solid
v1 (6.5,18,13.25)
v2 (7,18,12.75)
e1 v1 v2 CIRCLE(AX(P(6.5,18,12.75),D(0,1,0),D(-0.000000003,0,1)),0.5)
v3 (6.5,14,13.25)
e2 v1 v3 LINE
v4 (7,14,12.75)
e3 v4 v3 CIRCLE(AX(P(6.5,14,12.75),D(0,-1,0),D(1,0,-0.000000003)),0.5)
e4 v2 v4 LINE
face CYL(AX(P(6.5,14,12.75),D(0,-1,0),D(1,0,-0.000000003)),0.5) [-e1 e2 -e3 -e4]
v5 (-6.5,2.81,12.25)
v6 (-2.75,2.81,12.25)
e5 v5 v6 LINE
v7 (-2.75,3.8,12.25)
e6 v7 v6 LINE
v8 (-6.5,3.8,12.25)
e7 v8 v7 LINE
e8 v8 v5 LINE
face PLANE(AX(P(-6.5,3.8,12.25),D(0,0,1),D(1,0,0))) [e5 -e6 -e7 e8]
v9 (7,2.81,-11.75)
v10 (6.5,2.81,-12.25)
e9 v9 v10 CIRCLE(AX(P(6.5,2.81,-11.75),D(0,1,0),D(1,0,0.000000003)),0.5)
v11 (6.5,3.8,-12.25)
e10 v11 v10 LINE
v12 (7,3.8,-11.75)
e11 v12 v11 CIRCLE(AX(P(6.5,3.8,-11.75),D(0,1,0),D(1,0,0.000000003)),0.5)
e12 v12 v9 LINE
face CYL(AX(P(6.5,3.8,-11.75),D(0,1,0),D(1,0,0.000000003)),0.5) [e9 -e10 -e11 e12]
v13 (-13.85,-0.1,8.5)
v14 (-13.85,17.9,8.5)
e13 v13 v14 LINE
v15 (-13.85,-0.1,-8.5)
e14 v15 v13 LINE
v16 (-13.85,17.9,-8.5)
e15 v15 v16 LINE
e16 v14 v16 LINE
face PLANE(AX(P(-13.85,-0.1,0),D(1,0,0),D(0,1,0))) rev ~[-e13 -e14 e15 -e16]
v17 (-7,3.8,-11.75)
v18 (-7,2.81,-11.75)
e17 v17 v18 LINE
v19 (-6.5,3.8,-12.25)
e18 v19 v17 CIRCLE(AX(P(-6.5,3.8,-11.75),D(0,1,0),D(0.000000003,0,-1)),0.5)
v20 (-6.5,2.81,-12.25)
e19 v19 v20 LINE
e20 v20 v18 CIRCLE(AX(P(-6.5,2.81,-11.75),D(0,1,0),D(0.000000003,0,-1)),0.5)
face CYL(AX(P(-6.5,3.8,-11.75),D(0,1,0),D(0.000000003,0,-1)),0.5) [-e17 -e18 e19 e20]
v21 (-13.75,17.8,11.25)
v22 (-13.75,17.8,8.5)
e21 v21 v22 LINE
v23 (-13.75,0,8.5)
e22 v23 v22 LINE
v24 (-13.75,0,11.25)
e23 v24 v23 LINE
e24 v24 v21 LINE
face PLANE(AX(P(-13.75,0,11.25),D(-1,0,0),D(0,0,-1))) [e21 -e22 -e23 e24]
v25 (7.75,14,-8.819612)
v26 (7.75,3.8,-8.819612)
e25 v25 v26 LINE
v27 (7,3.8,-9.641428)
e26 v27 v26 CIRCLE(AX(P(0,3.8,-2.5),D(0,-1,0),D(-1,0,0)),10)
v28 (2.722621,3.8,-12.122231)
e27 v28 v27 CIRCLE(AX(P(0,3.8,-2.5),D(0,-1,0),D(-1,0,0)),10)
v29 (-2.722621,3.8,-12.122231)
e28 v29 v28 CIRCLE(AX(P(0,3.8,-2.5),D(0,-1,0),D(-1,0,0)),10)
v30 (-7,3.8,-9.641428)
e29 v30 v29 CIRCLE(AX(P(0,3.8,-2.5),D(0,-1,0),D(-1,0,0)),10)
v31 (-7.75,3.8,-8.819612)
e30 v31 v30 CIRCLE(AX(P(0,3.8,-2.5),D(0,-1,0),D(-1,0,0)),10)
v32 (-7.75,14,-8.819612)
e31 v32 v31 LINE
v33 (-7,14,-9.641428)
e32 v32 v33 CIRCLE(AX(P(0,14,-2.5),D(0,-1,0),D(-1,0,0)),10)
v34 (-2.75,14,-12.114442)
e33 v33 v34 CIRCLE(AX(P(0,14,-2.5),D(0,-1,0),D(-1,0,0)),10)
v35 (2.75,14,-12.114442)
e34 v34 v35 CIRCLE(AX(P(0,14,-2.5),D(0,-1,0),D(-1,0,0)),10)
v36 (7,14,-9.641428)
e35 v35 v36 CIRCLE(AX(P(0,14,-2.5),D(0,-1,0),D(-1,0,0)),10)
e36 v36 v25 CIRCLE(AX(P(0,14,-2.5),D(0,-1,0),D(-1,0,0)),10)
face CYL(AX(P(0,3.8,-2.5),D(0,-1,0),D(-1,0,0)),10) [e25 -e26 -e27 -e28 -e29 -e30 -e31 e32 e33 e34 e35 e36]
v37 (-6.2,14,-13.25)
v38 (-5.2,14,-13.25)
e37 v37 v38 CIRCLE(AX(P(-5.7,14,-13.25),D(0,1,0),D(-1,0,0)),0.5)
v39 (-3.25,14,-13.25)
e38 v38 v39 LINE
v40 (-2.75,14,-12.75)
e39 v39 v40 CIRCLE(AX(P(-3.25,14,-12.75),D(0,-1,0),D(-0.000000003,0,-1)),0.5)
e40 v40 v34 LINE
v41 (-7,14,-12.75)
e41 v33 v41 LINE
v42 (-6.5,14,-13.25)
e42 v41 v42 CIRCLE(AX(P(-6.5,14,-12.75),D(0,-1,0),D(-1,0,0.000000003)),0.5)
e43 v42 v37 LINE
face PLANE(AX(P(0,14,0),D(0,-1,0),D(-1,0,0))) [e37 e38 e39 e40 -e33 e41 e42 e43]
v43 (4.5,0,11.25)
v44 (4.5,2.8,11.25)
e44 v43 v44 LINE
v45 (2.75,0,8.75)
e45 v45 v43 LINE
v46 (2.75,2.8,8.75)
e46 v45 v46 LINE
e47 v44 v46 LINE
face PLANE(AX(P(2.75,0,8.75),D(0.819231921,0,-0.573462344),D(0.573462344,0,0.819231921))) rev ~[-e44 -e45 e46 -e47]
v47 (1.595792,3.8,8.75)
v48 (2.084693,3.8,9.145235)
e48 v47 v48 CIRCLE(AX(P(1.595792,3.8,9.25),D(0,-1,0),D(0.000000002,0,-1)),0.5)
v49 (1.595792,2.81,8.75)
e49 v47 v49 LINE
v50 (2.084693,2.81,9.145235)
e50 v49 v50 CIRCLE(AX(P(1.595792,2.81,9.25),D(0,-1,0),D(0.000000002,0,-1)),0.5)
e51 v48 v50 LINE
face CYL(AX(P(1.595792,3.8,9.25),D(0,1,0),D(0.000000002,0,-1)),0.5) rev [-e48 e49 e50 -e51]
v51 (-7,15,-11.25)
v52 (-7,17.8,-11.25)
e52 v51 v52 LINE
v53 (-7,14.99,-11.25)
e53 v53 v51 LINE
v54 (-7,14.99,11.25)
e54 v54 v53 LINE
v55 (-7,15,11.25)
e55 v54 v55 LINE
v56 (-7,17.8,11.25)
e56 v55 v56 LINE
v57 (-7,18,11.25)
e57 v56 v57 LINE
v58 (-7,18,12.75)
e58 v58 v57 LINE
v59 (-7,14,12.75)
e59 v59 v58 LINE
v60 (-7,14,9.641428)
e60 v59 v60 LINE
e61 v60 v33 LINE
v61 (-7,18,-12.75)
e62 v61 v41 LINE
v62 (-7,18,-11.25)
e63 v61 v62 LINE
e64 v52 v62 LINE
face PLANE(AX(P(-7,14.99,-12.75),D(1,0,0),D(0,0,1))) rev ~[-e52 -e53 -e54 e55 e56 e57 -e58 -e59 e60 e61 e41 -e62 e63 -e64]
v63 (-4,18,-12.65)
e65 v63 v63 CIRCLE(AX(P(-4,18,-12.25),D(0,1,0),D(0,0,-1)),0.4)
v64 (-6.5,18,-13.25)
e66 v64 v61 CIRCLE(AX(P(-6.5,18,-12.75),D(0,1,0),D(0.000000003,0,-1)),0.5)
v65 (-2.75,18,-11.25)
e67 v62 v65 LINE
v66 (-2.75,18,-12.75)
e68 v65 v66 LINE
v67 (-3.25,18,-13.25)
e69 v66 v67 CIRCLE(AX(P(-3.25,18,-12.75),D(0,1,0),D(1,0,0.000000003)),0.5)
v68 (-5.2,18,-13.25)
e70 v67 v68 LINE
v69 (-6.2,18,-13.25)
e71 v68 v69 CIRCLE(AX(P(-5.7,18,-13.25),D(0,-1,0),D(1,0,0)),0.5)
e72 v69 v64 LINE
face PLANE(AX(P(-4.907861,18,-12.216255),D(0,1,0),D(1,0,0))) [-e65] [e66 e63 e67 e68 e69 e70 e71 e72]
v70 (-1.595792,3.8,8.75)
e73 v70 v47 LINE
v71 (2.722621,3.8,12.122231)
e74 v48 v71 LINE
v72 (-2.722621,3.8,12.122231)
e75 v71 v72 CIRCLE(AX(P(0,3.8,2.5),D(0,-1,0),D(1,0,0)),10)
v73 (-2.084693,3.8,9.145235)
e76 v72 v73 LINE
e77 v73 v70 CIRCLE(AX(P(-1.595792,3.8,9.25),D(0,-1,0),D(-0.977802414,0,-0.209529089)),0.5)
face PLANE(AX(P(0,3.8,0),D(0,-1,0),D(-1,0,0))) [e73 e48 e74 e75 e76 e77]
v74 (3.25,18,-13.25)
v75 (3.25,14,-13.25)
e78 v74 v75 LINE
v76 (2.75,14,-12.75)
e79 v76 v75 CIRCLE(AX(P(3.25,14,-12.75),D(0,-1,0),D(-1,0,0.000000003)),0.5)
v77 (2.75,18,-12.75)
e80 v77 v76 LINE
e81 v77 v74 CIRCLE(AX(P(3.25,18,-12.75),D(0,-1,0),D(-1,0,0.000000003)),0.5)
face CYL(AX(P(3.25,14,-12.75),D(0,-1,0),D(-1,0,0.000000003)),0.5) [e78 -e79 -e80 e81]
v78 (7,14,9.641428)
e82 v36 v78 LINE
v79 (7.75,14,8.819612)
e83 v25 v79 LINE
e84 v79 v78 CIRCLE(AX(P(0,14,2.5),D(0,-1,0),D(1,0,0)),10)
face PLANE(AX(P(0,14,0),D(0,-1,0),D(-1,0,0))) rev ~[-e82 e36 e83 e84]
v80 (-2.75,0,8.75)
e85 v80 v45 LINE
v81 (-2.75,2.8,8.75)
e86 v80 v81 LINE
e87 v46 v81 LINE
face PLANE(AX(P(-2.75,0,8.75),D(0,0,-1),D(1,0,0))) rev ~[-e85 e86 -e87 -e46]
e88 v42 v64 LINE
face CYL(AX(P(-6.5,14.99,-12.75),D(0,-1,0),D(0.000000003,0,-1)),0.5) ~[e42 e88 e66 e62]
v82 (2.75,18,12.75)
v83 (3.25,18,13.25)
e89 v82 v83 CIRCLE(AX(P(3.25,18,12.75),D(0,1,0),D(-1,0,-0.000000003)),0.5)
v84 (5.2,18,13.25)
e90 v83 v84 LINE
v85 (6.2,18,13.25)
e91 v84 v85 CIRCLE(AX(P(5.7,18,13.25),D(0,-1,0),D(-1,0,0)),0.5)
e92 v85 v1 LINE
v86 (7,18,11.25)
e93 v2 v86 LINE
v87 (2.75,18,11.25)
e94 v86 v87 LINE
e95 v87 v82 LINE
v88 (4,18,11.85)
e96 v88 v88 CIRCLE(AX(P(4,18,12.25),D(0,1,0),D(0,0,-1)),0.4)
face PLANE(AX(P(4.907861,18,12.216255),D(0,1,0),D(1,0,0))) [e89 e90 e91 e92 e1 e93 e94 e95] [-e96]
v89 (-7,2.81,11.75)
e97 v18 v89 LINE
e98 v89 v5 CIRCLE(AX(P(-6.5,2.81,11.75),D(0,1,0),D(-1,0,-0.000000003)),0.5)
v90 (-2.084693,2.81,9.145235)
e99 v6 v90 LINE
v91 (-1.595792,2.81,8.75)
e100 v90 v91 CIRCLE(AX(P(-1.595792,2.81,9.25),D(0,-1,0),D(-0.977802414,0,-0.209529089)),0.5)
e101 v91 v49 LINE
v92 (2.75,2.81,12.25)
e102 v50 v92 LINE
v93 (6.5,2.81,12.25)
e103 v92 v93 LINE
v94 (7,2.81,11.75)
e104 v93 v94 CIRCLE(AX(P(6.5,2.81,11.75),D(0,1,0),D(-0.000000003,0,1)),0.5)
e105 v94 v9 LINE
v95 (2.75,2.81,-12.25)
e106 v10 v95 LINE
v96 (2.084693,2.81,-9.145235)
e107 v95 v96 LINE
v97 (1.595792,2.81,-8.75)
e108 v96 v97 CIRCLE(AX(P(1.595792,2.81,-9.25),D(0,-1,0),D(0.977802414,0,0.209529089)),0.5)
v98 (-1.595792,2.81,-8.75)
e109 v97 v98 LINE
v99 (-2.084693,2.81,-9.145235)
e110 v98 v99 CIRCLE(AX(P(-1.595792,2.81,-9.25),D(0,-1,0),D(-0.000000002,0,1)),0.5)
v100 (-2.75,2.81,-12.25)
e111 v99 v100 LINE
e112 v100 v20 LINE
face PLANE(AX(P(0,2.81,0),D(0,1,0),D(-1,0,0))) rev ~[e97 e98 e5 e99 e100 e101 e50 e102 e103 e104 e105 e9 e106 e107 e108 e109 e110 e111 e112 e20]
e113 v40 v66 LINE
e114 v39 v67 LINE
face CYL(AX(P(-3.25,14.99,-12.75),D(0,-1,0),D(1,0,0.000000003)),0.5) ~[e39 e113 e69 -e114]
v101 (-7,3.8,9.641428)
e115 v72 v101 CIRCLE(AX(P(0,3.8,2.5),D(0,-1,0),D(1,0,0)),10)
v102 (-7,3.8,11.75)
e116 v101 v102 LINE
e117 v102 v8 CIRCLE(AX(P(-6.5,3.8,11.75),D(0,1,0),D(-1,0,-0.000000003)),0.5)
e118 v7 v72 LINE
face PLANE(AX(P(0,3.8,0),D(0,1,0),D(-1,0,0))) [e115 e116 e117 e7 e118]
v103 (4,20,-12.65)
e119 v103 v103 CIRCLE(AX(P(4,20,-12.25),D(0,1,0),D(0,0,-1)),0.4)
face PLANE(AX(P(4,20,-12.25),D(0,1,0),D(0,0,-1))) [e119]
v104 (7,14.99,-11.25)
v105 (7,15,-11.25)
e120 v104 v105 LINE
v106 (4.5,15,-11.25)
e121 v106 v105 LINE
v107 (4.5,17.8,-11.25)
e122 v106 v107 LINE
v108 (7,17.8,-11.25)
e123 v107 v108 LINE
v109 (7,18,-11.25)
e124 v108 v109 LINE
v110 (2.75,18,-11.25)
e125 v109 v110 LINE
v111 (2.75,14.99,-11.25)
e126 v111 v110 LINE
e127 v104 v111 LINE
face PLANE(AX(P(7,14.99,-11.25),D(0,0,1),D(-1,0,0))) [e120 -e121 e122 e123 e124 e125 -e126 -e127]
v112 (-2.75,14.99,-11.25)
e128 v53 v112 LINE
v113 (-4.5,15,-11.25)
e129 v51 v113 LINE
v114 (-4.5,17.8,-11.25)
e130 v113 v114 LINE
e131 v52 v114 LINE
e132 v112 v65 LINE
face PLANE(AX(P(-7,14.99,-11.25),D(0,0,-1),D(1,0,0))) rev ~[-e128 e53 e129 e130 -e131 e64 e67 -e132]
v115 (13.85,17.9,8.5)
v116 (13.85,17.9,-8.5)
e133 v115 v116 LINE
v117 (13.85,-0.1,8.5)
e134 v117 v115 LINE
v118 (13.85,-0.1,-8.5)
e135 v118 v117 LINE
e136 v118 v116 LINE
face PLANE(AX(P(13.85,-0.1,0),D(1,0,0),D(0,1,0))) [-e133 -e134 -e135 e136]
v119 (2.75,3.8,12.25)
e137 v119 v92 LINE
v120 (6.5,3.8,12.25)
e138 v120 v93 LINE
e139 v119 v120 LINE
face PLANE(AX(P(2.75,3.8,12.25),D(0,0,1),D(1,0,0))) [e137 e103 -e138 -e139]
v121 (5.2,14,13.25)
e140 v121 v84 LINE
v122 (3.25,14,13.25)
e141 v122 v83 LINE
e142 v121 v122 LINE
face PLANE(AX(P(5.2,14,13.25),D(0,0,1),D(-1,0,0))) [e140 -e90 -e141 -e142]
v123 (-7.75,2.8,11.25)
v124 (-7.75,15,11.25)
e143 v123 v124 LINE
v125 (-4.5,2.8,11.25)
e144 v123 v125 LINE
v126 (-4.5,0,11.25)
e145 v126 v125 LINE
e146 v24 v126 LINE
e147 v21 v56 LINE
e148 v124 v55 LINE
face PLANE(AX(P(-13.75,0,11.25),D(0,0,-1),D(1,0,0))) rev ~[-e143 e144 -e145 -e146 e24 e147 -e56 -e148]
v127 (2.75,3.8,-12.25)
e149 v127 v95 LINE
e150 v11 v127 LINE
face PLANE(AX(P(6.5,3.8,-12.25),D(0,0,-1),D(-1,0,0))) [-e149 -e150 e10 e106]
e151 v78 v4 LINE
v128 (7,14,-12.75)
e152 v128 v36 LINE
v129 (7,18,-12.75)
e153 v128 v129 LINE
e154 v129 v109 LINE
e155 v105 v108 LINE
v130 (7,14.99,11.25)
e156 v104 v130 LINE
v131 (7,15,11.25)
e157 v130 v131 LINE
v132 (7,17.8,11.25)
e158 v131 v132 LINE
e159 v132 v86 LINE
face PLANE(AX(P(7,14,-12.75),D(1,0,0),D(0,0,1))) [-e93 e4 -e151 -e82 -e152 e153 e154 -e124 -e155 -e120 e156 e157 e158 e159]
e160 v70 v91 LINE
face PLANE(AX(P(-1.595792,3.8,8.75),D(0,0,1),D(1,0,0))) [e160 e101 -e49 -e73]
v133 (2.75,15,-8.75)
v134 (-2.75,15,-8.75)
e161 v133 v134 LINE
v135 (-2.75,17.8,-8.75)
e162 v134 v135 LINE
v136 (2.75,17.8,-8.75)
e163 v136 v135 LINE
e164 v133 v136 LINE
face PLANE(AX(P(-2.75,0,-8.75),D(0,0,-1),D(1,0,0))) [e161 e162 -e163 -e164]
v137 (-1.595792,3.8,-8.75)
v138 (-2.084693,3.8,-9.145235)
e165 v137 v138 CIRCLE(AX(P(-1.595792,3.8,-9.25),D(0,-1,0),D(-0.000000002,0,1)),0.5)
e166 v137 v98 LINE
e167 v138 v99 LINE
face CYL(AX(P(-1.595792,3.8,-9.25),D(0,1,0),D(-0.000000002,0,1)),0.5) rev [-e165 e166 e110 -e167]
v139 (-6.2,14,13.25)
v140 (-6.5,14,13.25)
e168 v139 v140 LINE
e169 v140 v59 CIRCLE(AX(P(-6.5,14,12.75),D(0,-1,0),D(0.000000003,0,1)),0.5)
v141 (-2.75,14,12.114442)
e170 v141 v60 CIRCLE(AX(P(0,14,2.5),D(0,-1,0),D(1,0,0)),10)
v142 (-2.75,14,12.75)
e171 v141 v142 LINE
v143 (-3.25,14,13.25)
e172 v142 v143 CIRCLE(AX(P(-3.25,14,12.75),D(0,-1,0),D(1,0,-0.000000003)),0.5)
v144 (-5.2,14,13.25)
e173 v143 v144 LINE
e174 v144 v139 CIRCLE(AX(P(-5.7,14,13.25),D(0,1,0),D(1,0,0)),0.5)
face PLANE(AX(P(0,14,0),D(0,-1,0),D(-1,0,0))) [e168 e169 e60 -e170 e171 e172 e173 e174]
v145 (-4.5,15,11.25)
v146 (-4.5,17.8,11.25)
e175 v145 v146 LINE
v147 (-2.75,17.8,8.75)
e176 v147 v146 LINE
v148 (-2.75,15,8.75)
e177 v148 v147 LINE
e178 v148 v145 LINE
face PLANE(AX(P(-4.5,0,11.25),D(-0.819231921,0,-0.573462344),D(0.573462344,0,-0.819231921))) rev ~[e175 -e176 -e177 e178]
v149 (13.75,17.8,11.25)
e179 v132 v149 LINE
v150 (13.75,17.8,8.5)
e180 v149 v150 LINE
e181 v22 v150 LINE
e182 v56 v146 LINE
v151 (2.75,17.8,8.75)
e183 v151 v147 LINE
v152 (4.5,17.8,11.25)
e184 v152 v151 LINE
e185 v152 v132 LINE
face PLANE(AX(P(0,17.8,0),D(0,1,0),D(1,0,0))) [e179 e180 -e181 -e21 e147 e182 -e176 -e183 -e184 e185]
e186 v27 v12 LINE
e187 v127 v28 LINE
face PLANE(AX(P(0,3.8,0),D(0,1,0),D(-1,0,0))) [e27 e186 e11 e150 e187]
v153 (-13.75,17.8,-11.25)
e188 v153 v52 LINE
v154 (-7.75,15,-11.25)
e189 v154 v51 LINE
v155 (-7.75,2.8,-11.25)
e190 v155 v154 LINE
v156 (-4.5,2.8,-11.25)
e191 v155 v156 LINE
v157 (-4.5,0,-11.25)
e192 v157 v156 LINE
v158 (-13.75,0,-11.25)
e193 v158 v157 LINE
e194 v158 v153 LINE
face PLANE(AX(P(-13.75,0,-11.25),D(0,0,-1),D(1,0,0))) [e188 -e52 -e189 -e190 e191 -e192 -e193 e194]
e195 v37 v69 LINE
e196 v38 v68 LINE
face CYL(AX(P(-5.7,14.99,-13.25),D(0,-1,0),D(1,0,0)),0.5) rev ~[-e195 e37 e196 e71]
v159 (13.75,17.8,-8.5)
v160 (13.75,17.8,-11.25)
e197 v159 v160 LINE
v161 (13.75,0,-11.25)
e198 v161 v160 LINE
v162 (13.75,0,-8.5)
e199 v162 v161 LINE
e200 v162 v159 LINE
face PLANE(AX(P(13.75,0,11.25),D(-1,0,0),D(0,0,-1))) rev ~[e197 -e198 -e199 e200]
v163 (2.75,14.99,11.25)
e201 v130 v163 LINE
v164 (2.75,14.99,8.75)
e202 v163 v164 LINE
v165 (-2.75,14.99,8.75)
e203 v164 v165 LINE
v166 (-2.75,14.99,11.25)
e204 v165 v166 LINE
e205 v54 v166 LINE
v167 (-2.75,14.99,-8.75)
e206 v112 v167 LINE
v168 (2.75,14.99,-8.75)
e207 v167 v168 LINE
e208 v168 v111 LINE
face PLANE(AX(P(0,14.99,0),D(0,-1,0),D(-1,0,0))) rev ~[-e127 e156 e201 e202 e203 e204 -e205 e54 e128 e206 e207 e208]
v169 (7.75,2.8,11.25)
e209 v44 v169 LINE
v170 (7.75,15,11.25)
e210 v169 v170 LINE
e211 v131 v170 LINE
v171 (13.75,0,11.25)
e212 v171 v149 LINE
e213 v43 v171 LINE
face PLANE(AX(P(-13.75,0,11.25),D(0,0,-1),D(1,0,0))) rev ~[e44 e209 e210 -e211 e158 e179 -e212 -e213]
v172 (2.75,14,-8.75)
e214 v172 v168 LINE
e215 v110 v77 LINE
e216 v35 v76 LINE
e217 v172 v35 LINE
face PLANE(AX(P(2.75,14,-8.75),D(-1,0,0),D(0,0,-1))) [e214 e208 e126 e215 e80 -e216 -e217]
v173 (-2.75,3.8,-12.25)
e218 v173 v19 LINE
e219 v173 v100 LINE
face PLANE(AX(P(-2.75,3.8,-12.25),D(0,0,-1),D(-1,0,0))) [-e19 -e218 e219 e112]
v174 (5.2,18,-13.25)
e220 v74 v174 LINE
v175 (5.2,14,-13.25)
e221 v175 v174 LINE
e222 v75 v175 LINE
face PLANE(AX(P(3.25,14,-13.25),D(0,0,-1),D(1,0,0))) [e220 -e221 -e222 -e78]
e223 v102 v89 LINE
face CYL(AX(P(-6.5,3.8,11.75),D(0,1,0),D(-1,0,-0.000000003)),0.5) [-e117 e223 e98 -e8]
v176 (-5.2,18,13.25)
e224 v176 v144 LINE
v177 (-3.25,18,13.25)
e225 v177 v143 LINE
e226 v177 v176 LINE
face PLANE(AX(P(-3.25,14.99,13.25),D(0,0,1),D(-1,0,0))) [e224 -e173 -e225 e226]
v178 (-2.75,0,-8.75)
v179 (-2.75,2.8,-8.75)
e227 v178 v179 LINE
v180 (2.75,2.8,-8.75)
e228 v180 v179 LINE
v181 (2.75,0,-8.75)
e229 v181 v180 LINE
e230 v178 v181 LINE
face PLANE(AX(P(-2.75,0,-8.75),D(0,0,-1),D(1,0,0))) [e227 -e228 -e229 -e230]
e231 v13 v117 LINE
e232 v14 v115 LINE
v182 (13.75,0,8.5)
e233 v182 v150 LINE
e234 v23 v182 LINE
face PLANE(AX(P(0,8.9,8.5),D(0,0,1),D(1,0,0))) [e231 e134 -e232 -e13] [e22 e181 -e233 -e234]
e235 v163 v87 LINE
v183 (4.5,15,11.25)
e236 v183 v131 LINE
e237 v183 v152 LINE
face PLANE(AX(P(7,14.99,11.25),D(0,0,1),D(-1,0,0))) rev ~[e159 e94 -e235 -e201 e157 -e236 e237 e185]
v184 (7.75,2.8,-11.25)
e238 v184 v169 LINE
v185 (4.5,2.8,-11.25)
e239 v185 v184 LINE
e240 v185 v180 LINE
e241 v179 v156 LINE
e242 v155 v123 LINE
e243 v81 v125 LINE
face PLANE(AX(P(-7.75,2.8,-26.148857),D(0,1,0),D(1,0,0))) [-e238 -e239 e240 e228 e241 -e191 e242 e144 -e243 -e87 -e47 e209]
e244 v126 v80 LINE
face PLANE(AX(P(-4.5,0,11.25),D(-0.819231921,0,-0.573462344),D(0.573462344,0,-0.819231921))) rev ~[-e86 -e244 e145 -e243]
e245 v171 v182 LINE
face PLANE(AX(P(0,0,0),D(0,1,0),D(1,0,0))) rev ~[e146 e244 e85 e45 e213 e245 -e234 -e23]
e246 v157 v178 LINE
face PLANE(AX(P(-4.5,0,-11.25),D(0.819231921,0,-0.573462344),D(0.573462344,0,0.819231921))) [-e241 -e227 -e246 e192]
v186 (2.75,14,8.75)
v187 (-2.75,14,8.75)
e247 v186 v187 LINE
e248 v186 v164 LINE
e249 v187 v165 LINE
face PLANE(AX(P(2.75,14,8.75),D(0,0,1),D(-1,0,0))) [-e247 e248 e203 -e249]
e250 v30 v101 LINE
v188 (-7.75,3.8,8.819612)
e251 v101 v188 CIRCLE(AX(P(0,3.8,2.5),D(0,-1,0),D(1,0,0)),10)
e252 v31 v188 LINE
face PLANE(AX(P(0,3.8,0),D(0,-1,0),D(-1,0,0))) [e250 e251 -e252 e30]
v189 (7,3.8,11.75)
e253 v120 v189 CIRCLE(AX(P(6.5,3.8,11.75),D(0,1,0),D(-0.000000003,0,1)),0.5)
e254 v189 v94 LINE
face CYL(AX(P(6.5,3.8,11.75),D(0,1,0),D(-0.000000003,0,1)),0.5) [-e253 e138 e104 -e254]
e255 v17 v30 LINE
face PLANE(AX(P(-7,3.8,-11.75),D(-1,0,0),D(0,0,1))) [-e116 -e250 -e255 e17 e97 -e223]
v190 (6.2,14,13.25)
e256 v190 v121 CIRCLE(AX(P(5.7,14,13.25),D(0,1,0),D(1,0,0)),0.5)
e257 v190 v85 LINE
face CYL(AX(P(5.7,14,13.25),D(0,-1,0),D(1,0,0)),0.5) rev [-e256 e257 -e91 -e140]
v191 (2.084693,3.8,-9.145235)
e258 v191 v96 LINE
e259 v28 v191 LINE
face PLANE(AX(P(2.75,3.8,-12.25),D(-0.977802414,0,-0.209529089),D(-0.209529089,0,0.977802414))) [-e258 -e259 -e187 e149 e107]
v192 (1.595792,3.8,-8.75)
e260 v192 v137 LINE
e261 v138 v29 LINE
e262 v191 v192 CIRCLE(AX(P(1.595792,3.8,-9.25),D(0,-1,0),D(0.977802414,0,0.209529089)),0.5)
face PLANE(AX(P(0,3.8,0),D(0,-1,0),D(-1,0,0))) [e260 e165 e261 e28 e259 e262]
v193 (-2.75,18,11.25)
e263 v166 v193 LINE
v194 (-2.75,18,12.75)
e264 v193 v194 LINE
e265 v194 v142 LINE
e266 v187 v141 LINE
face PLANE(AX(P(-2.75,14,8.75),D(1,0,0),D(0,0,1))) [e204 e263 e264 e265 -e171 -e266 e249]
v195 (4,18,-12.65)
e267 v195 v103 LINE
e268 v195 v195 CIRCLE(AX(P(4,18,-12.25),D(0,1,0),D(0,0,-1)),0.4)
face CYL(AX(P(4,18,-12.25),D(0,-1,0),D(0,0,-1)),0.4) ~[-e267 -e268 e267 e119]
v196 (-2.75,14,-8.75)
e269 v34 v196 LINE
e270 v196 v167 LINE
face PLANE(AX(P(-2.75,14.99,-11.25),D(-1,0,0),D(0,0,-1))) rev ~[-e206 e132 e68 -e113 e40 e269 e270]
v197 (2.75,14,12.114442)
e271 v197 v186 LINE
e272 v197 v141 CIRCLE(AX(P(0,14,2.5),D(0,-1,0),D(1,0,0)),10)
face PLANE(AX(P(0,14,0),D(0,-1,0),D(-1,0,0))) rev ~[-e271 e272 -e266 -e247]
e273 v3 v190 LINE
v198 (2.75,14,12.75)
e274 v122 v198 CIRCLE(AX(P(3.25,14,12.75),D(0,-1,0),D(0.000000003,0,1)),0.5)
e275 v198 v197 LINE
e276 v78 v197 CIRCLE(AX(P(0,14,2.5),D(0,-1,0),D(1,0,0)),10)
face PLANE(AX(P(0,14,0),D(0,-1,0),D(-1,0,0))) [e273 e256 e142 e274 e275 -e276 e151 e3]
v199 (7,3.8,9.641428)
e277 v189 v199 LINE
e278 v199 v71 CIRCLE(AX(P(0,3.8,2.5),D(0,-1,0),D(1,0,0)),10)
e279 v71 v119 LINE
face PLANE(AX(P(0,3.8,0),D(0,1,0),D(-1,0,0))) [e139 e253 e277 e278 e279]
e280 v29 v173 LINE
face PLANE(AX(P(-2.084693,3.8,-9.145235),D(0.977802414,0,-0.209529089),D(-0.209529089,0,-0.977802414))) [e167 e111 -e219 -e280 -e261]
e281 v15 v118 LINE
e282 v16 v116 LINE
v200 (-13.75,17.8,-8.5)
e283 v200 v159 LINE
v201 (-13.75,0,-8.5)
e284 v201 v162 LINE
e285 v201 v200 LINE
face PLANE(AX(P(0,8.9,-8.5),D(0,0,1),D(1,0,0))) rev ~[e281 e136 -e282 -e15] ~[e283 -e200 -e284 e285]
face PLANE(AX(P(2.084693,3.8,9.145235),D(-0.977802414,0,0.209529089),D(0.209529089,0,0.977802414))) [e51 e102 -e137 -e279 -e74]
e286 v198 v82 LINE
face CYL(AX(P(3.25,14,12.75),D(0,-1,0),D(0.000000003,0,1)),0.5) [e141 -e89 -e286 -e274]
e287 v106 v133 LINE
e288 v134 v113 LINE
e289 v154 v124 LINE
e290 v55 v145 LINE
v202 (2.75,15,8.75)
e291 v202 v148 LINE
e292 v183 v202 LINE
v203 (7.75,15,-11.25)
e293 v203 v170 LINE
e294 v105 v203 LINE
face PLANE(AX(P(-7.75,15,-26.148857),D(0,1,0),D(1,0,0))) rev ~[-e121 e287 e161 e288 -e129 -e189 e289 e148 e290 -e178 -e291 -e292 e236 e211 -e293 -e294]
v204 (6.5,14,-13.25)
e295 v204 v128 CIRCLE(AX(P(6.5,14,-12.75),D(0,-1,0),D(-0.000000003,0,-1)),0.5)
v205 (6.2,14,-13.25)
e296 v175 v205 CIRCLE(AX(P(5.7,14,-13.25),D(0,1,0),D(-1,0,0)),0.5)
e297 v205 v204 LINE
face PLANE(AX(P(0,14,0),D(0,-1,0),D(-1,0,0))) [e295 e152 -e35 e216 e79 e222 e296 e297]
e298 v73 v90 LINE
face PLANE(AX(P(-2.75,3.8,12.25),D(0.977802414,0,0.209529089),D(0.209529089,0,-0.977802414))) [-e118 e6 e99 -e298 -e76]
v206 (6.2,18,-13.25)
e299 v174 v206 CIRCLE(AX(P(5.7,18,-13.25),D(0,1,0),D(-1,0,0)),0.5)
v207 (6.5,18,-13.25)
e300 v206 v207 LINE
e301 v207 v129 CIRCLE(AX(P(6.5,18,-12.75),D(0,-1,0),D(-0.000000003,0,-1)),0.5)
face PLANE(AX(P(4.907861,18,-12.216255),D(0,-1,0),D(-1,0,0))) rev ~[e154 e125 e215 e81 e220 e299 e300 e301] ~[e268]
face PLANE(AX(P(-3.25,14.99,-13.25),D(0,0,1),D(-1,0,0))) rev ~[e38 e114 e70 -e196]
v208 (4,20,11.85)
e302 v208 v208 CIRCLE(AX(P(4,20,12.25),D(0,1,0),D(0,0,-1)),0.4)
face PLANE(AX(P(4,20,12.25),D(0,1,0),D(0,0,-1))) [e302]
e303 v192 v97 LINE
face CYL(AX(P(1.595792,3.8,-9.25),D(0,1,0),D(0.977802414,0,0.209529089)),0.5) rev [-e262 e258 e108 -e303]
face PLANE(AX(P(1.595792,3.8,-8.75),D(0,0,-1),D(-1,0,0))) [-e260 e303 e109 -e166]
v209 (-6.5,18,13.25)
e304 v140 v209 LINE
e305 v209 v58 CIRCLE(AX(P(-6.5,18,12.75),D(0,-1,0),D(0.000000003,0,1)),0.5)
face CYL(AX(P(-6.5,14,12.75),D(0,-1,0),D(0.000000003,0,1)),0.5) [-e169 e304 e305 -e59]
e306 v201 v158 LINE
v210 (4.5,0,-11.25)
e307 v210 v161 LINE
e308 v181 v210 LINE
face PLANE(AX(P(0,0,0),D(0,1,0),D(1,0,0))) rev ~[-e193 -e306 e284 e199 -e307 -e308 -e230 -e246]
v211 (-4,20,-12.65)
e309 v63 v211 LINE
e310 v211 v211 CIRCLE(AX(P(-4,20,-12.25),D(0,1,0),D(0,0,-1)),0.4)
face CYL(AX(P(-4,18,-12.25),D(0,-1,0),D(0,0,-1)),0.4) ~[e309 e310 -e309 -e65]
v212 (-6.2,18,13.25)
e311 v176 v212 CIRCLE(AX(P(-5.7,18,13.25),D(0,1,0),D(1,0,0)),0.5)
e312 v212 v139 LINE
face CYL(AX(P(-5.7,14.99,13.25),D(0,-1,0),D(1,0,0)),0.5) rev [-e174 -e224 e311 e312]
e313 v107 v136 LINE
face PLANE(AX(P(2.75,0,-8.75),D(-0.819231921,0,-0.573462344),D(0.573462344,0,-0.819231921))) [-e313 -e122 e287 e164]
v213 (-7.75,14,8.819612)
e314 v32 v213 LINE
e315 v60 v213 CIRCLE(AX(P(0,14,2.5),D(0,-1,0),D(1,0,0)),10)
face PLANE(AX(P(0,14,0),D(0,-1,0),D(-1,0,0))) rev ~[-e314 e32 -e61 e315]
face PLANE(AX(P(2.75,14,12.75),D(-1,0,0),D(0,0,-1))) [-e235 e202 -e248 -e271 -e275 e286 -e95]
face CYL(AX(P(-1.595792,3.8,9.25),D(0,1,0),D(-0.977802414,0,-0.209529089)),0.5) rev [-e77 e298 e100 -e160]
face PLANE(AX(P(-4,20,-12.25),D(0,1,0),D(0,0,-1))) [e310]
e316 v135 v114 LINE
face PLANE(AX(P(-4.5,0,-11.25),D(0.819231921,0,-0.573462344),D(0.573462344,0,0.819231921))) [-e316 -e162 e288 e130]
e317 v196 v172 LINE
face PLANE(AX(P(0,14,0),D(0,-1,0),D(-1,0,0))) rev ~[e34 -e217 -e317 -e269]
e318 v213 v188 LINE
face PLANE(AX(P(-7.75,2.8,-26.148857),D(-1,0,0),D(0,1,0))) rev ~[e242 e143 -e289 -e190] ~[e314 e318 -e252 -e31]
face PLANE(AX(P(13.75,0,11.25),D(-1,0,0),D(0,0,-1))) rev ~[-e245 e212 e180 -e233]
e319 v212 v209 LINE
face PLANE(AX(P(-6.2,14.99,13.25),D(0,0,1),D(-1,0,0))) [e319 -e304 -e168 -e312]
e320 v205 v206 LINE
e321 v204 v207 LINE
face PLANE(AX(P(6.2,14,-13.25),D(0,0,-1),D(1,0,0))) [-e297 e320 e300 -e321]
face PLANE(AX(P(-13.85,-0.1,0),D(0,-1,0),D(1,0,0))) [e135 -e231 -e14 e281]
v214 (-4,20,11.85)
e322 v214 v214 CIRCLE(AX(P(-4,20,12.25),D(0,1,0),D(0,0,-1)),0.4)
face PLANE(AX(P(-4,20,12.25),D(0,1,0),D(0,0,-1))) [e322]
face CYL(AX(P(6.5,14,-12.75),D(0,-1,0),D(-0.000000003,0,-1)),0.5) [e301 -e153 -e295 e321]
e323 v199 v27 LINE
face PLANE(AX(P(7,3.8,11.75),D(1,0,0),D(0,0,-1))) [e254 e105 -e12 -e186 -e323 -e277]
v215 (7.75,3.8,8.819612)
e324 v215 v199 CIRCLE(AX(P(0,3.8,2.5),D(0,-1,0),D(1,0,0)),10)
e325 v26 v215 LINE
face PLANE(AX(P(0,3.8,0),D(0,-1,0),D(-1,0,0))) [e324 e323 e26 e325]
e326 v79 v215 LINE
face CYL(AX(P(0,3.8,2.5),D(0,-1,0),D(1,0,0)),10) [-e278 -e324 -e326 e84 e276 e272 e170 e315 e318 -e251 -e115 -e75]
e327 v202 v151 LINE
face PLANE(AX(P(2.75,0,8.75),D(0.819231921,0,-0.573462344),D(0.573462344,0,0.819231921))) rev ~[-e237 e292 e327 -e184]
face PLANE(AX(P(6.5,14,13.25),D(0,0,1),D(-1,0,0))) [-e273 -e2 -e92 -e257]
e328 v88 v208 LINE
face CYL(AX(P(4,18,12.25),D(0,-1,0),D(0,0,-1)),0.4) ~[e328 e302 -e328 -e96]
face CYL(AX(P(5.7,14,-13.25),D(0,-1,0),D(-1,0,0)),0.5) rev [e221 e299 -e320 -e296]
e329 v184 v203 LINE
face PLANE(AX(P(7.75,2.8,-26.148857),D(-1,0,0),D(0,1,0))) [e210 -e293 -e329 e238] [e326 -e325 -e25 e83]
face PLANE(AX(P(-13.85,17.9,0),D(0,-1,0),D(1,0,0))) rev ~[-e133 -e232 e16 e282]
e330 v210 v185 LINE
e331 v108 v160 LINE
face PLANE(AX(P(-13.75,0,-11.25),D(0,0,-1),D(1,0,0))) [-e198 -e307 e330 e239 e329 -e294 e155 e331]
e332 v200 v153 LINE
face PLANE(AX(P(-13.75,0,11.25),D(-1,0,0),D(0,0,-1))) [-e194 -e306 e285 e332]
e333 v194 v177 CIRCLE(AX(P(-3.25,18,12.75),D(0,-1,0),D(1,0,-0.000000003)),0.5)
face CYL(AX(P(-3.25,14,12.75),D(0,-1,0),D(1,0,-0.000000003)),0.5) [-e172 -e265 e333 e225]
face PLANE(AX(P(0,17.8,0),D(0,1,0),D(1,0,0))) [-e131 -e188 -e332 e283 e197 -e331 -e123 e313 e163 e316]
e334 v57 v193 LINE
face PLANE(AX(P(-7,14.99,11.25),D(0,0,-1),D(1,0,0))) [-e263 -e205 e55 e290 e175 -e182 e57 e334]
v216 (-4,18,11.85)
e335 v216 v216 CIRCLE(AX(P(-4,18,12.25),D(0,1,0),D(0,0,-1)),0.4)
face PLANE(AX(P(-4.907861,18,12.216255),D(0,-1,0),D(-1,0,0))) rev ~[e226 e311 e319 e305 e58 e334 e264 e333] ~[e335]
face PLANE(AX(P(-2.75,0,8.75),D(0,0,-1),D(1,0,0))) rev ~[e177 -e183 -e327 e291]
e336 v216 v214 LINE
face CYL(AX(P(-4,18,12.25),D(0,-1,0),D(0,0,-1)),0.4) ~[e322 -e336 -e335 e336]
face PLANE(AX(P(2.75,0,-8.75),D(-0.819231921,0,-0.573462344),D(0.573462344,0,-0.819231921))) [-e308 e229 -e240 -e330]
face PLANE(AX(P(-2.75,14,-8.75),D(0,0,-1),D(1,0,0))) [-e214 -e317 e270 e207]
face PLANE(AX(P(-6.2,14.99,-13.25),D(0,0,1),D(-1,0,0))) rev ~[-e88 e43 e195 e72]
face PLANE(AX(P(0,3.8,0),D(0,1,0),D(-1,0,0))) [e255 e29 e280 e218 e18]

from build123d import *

# Parameters (mm, degrees)
SKETCH_1_W               = 27.5
SKETCH_1_H               = 22.5
EXTRUDE_1_DEPTH          = 17.8
CUT_EXTRUDE_1_DEPTH      = 26.148856833
CUT_EXTRUDE_1_DEPTH_BACK = 26.148856833
SKETCH_3_W               = 15.5
SKETCH_3_H               = 12.2
CUT_EXTRUDE_2_DEPTH      = 26.148856833
EXTRUDE_2_DEPTH          = 5.1
EXTRUDE_2_DEPTH_BACK     = 5.1
EXTRUDE_3_DEPTH          = 0.99
EXTRUDE_4_DEPTH          = 0.99
EXTRUDE_5_DEPTH          = 3.01
SKETCH_8_R               = 0.4
EXTRUDE_6_DEPTH          = 2
SKETCH_9_W               = 27.7
SKETCH_9_H               = 18
SKETCH_9_W_2             = 27.5
SKETCH_9_H_2             = 17.8
EXTRUDE_7_DEPTH          = 8.5


with BuildPart() as part:
    # Эскиз1 → Бобышка-Вытянуть1 (new body)
    with BuildSketch(Plane(origin=(0, 0, 0), x_dir=(1, 0, 0), z_dir=(0, 1, 0))):
        Rectangle(SKETCH_1_W, SKETCH_1_H)
    extrude(amount=EXTRUDE_1_DEPTH)

    # Эскиз3 → Вырез-Вытянуть1 (cut, two sides: drawn at the far end of the back side and taken through both)
    with BuildSketch(Plane.XY.offset(-CUT_EXTRUDE_1_DEPTH_BACK)):
        with Locations((0, 8.9)):
            Rectangle(SKETCH_3_W, SKETCH_3_H)
    extrude(amount=CUT_EXTRUDE_1_DEPTH + CUT_EXTRUDE_1_DEPTH_BACK, mode=Mode.SUBTRACT)

    # Эскиз4 → Вырез-Вытянуть2 (cut, through all)
    with BuildSketch(Plane(origin=(0, 0, 0), x_dir=(1, 0, 0), z_dir=(0, 1, 0))):
        Polygon((-4.5, 11.25), (-2.75, 8.75), (2.75, 8.75), (4.5, 11.25), align=None)
        Polygon((4.5, -11.25), (-4.5, -11.25), (-2.75, -8.75), (2.75, -8.75), align=None)
    extrude(amount=CUT_EXTRUDE_2_DEPTH, mode=Mode.SUBTRACT)

    # Эскиз2 → Бобышка-Вытянуть2 (add, two sides: drawn at the far end of the back side and taken through both)
    with BuildSketch(Plane(origin=(0, 8.9, 0), x_dir=(1, 0, 0), z_dir=(0, 1, 0)).offset(-EXTRUDE_2_DEPTH_BACK)):
        with BuildLine():
            Line((-10, -2.5), (-10, 2.5))
            ThreePointArc((-10, 2.5), (0, 12.5), (10, 2.5))
            Line((10, 2.5), (10, -2.5))
            ThreePointArc((10, -2.5), (0, -12.5), (-10, -2.5))
        make_face()
    extrude(amount=EXTRUDE_2_DEPTH + EXTRUDE_2_DEPTH_BACK)

    # Эскиз5 → Бобышка-Вытянуть3 (add)
    with BuildSketch(Plane.XZ.offset(-3.8)):
        with BuildLine():
            Line((7, 11.75), (7, -11.75))
            ThreePointArc((7, -11.75), (6.853553391, -12.103553391), (6.5, -12.25))
            Line((6.5, -12.25), (2.75, -12.25))
            Line((2.75, -12.25), (2.084693312, -9.145235456))
            ThreePointArc((2.084693312, -9.145235456), (1.910130877, -8.861166956), (1.595792105, -8.75))
            Line((1.595792105, -8.75), (-1.595792105, -8.75))
            ThreePointArc((-1.595792105, -8.75), (-1.910130877, -8.861166956), (-2.084693312, -9.145235456))
            Line((-2.084693312, -9.145235456), (-2.75, -12.25))
            Line((-2.75, -12.25), (-6.5, -12.25))
            ThreePointArc((-6.5, -12.25), (-6.853553391, -12.103553391), (-7, -11.75))
            Line((-7, -11.75), (-7, 11.75))
            ThreePointArc((-7, 11.75), (-6.853553391, 12.103553391), (-6.5, 12.25))
            Line((-6.5, 12.25), (-2.75, 12.25))
            Line((-2.75, 12.25), (-2.084693312, 9.145235456))
            ThreePointArc((-2.084693312, 9.145235456), (-1.910130877, 8.861166956), (-1.595792105, 8.75))
            Line((-1.595792105, 8.75), (1.595792105, 8.75))
            ThreePointArc((1.595792105, 8.75), (1.910130877, 8.861166956), (2.084693312, 9.145235456))
            Line((2.084693312, 9.145235456), (2.75, 12.25))
            Line((2.75, 12.25), (6.5, 12.25))
            ThreePointArc((6.5, 12.25), (6.853553391, 12.103553391), (7, 11.75))
        make_face()
    extrude(amount=EXTRUDE_3_DEPTH)

    # Эскиз6 → Бобышка-Вытянуть4 (add)
    with BuildSketch(Plane(origin=(0, 14, 0), x_dir=(1, 0, 0), z_dir=(0, 1, 0))):
        with BuildLine():
            Line((-7, -12.75), (-7, 12.75))
            ThreePointArc((-7, 12.75), (-6.853553391, 13.103553391), (-6.5, 13.25))
            Line((-6.5, 13.25), (-6.2, 13.25))
            ThreePointArc((-6.2, 13.25), (-5.7, 12.75), (-5.2, 13.25))
            Line((-5.2, 13.25), (-3.25, 13.25))
            ThreePointArc((-3.25, 13.25), (-2.896446609, 13.103553391), (-2.75, 12.75))
            Line((-2.75, 12.75), (-2.75, 8.75))
            Line((-2.75, 8.75), (2.75, 8.75))
            Line((2.75, 8.75), (2.75, 12.75))
            ThreePointArc((2.75, 12.75), (2.896446609, 13.103553391), (3.25, 13.25))
            Line((3.25, 13.25), (5.2, 13.25))
            ThreePointArc((5.2, 13.25), (5.7, 12.75), (6.2, 13.25))
            Line((6.2, 13.25), (6.5, 13.25))
            ThreePointArc((6.5, 13.25), (6.853553391, 13.103553391), (7, 12.75))
            Line((7, 12.75), (7, -12.75))
            ThreePointArc((7, -12.75), (6.853553391, -13.103553391), (6.5, -13.25))
            Line((6.5, -13.25), (6.2, -13.25))
            ThreePointArc((6.2, -13.25), (5.7, -12.75), (5.2, -13.25))
            Line((5.2, -13.25), (3.25, -13.25))
            ThreePointArc((3.25, -13.25), (2.896446609, -13.103553391), (2.75, -12.75))
            Line((2.75, -12.75), (2.75, -8.75))
            Line((2.75, -8.75), (-2.75, -8.75))
            Line((-2.75, -8.75), (-2.75, -12.75))
            ThreePointArc((-2.75, -12.75), (-2.896446609, -13.103553391), (-3.25, -13.25))
            Line((-3.25, -13.25), (-5.2, -13.25))
            ThreePointArc((-5.2, -13.25), (-5.7, -12.75), (-6.2, -13.25))
            Line((-6.2, -13.25), (-6.5, -13.25))
            ThreePointArc((-6.5, -13.25), (-6.853553391, -13.103553391), (-7, -12.75))
        make_face()
    extrude(amount=EXTRUDE_4_DEPTH)

    # Эскиз7 → Бобышка-Вытянуть5 (add)
    with BuildSketch(Plane(origin=(0, 14.99, 0), x_dir=(1, 0, 0), z_dir=(0, 1, 0))):
        with BuildLine():
            Line((-7, 11.25), (-2.75, 11.25))
            Line((-2.75, 11.25), (-2.75, 12.75))
            ThreePointArc((-2.75, 12.75), (-2.896446609, 13.103553391), (-3.25, 13.25))
            Line((-3.25, 13.25), (-5.2, 13.25))
            ThreePointArc((-5.2, 13.25), (-5.7, 12.75), (-6.2, 13.25))
            Line((-6.2, 13.25), (-6.5, 13.25))
            ThreePointArc((-6.5, 13.25), (-6.853553391, 13.103553391), (-7, 12.75))
            Line((-7, 12.75), (-7, 11.25))
        make_face()
        with BuildLine():
            Line((7, 11.25), (2.75, 11.25))
            Line((2.75, 11.25), (2.75, 12.75))
            ThreePointArc((2.75, 12.75), (2.896446609, 13.103553391), (3.25, 13.25))
            Line((3.25, 13.25), (5.2, 13.25))
            ThreePointArc((5.2, 13.25), (5.7, 12.75), (6.2, 13.25))
            Line((6.2, 13.25), (6.5, 13.25))
            ThreePointArc((6.5, 13.25), (6.853553391, 13.103553391), (7, 12.75))
            Line((7, 12.75), (7, 11.25))
        make_face()
        with BuildLine():
            Line((7, -11.25), (2.75, -11.25))
            Line((2.75, -11.25), (2.75, -12.75))
            ThreePointArc((2.75, -12.75), (2.896446609, -13.103553391), (3.25, -13.25))
            Line((3.25, -13.25), (5.2, -13.25))
            ThreePointArc((5.2, -13.25), (5.7, -12.75), (6.2, -13.25))
            Line((6.2, -13.25), (6.5, -13.25))
            ThreePointArc((6.5, -13.25), (6.853553391, -13.103553391), (7, -12.75))
            Line((7, -12.75), (7, -11.25))
        make_face()
        with BuildLine():
            Line((-7, -11.25), (-2.75, -11.25))
            Line((-2.75, -11.25), (-2.75, -12.75))
            ThreePointArc((-2.75, -12.75), (-2.896446609, -13.103553391), (-3.25, -13.25))
            Line((-3.25, -13.25), (-5.2, -13.25))
            ThreePointArc((-5.2, -13.25), (-5.7, -12.75), (-6.2, -13.25))
            Line((-6.2, -13.25), (-6.5, -13.25))
            ThreePointArc((-6.5, -13.25), (-6.853553391, -13.103553391), (-7, -12.75))
            Line((-7, -12.75), (-7, -11.25))
        make_face()
    extrude(amount=EXTRUDE_5_DEPTH)

    # Эскиз8 → Бобышка-Вытянуть6 (add)
    with BuildSketch(Plane(origin=(0, 18, 0), x_dir=(1, 0, 0), z_dir=(0, 1, 0))):
        with Locations(Location((4, -12.25, 0), (0, 0, 90))):
            Circle(SKETCH_8_R)
        with Locations(Location((-4, -12.25, 0), (0, 0, 90))):
            Circle(SKETCH_8_R)
        with Locations(Location((-4, 12.25, 0), (0, 0, 90))):
            Circle(SKETCH_8_R)
        with Locations(Location((4, 12.25, 0), (0, 0, 90))):
            Circle(SKETCH_8_R)
    extrude(amount=EXTRUDE_6_DEPTH)

    # Эскиз9 → Бобышка-Вытянуть7 (add, symmetric)
    with BuildSketch(Plane.XY):
        with Locations((0, 8.9)):
            Rectangle(SKETCH_9_W, SKETCH_9_H)
        with Locations((0, 8.9)):
            Rectangle(SKETCH_9_W_2, SKETCH_9_H_2, mode=Mode.SUBTRACT)
    extrude(amount=EXTRUDE_7_DEPTH, both=True)


solid = part.part
